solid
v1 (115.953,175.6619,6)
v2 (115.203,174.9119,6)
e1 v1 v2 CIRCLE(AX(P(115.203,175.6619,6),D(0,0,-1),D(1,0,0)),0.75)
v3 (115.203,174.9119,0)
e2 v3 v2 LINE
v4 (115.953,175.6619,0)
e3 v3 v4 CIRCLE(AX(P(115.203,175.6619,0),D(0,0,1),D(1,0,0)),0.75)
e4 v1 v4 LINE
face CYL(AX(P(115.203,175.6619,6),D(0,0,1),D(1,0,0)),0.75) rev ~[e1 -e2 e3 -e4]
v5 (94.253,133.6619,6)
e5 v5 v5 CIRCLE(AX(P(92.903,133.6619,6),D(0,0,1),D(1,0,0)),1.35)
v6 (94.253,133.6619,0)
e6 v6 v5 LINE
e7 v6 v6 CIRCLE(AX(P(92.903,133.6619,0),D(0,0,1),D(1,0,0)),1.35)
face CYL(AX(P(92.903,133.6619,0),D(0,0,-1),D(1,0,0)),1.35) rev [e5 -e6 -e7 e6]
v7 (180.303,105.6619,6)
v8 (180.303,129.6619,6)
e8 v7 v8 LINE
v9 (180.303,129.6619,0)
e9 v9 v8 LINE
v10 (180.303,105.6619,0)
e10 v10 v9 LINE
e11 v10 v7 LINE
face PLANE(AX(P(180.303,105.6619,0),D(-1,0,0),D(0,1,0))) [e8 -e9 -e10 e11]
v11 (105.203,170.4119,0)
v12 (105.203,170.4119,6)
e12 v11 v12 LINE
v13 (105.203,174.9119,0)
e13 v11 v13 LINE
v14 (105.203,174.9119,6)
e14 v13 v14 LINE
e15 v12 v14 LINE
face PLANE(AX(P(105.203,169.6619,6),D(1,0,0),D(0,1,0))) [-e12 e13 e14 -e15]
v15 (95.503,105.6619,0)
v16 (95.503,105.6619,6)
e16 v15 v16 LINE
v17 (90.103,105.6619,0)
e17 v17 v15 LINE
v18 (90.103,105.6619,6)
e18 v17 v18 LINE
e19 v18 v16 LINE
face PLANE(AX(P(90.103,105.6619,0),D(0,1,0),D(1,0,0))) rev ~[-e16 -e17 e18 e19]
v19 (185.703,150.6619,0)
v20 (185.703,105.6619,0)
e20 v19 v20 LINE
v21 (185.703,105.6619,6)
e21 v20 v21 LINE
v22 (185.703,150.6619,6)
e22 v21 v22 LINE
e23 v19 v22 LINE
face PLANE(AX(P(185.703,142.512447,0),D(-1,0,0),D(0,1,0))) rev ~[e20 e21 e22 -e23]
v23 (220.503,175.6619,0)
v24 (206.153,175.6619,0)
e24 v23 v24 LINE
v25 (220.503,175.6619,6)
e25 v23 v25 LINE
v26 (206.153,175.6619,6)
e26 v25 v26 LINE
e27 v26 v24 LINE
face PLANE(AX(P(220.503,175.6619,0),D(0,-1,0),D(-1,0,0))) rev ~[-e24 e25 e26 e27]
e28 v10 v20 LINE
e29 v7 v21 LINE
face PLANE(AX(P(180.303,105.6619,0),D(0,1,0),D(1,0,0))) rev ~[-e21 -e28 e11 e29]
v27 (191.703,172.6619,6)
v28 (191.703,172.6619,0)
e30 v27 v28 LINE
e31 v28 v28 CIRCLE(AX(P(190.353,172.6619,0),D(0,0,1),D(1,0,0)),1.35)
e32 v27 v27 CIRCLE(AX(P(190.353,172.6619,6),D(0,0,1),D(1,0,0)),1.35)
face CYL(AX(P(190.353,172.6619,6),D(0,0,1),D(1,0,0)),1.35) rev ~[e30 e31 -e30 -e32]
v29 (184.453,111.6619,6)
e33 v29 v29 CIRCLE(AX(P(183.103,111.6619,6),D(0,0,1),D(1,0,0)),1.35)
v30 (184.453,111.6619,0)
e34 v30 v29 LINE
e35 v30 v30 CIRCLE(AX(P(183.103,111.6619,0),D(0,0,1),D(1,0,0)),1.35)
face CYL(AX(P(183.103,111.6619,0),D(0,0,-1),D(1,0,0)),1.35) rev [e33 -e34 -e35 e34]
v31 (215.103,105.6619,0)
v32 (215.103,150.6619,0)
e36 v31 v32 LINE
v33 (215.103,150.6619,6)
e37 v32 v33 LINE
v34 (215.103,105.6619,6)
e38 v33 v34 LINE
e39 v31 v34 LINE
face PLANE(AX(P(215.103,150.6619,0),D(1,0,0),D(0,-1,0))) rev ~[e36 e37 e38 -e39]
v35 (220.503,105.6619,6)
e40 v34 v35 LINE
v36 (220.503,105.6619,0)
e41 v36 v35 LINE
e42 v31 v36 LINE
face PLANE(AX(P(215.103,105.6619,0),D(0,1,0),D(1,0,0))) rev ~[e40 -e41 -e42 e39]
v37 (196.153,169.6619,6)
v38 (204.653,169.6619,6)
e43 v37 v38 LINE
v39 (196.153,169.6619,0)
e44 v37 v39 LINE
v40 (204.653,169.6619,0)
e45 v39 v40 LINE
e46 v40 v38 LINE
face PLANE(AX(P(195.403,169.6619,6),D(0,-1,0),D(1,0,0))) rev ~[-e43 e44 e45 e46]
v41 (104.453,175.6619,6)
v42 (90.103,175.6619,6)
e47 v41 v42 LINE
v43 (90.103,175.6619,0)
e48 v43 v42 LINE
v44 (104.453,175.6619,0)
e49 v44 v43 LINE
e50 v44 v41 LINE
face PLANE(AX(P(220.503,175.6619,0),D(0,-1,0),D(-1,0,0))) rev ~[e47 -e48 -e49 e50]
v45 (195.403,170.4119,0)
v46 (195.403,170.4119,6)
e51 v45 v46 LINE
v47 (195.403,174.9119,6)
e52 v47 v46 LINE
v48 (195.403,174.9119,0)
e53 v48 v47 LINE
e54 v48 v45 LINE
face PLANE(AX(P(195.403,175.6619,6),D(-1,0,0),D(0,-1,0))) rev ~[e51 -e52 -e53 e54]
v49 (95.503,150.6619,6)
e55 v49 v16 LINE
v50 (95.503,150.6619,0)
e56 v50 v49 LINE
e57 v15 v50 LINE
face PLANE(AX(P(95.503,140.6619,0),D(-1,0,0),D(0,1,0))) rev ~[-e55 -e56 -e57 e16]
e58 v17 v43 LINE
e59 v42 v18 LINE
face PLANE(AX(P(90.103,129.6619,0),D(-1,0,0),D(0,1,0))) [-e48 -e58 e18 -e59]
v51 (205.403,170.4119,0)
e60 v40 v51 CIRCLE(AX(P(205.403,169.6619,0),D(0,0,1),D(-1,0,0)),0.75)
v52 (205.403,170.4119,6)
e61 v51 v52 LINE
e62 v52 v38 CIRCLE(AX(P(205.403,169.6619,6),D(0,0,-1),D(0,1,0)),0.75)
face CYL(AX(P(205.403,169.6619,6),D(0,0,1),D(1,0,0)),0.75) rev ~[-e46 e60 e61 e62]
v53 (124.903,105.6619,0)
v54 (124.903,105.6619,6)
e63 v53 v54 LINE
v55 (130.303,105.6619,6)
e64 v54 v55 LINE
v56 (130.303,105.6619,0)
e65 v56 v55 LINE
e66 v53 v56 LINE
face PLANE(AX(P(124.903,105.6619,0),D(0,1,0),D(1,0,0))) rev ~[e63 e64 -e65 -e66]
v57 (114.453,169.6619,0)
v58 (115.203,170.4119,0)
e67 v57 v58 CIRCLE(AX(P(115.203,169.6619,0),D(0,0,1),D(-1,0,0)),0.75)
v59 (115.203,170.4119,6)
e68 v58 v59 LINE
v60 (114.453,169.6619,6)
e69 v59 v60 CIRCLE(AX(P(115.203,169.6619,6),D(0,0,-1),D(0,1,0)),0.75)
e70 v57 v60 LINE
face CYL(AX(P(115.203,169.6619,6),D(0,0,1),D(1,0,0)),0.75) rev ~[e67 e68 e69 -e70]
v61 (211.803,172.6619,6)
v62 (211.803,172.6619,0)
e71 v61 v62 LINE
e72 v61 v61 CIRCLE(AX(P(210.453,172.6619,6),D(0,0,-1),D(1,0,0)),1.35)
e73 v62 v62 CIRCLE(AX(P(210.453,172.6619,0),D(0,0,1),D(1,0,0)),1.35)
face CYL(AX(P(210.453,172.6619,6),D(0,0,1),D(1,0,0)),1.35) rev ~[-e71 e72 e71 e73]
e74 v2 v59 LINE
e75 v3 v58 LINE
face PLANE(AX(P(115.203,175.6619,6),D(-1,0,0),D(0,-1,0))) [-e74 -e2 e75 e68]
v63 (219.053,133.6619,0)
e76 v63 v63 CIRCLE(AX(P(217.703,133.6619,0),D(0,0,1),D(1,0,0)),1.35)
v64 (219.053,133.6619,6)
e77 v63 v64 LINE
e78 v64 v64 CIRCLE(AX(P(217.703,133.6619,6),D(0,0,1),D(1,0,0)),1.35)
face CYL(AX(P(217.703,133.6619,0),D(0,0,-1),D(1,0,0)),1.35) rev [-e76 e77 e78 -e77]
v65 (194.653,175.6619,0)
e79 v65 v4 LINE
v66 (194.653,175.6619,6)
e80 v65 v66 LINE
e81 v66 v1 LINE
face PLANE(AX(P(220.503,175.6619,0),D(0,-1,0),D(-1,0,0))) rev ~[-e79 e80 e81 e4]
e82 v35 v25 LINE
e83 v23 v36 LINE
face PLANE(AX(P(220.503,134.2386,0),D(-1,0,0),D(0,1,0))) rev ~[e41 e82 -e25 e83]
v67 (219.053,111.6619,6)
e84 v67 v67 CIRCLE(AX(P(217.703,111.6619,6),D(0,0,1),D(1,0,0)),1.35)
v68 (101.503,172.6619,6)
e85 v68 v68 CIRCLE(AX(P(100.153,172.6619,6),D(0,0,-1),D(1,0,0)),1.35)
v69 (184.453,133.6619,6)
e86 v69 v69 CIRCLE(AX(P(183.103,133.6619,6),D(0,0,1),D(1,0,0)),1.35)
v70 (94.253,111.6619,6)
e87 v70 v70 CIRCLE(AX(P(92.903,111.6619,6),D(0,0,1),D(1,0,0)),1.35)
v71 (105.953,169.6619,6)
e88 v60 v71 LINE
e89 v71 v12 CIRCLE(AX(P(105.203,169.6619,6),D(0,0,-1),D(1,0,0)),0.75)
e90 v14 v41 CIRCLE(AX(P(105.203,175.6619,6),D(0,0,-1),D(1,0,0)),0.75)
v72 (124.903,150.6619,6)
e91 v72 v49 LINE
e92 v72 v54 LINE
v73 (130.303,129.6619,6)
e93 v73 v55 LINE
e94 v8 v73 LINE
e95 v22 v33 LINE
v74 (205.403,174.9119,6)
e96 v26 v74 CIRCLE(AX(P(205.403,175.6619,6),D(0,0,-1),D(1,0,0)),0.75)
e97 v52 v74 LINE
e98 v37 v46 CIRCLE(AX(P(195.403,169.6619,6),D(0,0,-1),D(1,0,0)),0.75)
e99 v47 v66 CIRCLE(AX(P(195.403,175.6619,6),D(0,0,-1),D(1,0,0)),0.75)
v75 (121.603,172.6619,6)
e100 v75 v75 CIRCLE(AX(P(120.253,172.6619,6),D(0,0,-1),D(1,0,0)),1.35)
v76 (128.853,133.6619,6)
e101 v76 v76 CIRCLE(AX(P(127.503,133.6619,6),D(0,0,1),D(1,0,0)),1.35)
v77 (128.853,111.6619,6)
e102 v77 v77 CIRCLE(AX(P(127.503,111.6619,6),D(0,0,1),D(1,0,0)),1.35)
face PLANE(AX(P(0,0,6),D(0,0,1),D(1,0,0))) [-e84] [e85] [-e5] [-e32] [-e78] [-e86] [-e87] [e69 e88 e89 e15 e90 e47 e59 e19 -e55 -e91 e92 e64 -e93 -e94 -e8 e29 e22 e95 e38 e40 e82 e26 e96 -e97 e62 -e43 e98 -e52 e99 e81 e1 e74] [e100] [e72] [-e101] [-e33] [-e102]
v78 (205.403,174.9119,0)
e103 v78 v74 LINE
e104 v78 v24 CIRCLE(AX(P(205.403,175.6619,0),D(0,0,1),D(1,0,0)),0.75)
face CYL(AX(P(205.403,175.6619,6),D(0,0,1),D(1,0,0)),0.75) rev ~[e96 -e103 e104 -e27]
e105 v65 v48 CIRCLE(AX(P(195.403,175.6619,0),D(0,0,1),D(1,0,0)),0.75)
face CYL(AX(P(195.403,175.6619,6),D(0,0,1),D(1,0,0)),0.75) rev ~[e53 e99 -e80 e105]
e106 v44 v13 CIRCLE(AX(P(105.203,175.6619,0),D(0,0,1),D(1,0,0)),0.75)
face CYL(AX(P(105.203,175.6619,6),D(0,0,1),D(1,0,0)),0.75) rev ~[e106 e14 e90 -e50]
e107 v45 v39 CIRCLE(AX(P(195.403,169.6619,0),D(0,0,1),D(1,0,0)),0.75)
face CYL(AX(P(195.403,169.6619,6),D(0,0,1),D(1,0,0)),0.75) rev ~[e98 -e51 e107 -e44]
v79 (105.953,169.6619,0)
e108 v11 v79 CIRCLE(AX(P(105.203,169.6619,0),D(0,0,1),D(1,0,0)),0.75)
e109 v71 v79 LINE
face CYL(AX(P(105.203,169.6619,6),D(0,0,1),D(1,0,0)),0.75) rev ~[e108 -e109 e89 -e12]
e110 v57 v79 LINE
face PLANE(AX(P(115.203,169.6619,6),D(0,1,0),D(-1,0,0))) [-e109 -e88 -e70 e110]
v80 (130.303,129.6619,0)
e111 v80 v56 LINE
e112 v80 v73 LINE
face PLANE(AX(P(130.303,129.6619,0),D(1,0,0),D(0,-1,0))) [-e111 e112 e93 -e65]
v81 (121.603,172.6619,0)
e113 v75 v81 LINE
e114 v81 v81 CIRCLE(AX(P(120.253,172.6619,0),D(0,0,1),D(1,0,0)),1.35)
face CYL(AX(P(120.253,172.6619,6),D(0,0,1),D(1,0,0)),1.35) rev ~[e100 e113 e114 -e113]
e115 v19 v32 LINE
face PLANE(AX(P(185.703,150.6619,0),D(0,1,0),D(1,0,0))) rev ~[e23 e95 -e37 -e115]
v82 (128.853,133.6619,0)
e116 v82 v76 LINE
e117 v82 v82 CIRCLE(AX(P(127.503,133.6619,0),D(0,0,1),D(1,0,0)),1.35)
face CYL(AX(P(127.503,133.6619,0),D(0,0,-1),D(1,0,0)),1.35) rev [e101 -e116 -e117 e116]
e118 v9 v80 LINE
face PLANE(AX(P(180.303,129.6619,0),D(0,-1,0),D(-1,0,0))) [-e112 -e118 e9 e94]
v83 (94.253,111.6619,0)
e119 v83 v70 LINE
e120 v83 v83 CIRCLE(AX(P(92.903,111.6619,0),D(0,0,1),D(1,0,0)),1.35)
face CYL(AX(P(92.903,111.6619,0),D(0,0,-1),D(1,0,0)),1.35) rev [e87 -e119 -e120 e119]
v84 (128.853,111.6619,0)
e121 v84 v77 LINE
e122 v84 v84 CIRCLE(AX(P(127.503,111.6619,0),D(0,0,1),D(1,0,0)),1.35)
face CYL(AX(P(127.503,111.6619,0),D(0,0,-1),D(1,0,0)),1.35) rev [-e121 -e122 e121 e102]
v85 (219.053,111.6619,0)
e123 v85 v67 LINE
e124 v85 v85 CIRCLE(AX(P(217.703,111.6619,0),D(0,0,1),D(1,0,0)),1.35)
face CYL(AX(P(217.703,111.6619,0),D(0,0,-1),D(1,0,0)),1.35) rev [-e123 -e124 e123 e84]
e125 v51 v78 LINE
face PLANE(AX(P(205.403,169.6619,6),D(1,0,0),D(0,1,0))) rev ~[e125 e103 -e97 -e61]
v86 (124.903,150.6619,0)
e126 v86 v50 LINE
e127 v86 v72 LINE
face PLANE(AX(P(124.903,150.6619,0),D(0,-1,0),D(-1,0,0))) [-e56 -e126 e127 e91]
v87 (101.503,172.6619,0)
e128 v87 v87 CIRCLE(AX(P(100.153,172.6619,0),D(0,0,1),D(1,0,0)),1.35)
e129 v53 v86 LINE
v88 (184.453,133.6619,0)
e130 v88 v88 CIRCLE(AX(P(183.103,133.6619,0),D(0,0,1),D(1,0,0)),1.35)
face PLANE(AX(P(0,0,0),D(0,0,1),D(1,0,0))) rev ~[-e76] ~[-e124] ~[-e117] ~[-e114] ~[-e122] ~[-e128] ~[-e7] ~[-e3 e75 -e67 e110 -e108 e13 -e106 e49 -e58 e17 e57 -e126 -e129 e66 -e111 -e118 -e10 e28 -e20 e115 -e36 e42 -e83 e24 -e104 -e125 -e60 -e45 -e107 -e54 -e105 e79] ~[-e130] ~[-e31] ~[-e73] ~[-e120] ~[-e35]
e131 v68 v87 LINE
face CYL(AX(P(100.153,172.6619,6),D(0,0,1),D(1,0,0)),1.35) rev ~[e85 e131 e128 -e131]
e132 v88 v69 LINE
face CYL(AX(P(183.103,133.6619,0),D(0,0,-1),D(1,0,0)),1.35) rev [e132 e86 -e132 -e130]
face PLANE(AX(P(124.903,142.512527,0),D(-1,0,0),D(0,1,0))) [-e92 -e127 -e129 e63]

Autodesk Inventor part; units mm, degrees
ref_plane "YZ Plane" through (0, 0, 0) normal (1, 0, 0) x (0, 1, 0)
ref_plane "XZ Plane" through (0, 0, 0) normal (0, 1, 0) x (-1, 0, 0)
ref_plane "XY Plane" through (0, 0, 0) normal (0, 0, 1) x (1, 0, 0)
sketch "스케치1" plane through (0, 0, 0) normal (0, 0, 1) x (1, 0, 0)
  arc A0 (90.6223, 135.9255) -> (90.103, 134.2386) centre (93.103, 134.2386) ccw
  line L0 (90.103, 89.9853) -> (90.103, 134.2386)
  arc A1 (90.103, 89.9853) -> (90.6223, 88.2984) centre (93.103, 89.9853) ccw
  line L1 (94.3102, 82.875) -> (90.6223, 88.2984)
  arc A2 (94.3102, 82.875) -> (96.7909, 81.5619) centre (96.7909, 84.5619) ccw
  line L2 (123.6151, 81.5619) -> (96.7909, 81.5619)
  arc A3 (123.6151, 81.5619) -> (126.0959, 82.875) centre (123.6151, 84.5619) ccw
  line L3 (129.7838, 88.2984) -> (126.0959, 82.875)
  arc A4 (129.7838, 88.2984) -> (130.303, 89.9853) centre (127.303, 89.9853) ccw
  line L4 (130.303, 134.2386) -> (130.303, 89.9853)
  arc A5 (130.303, 134.2386) -> (129.7838, 135.9255) centre (127.303, 134.2386) ccw
  line L5 (125.7983, 141.7866) -> (129.7838, 135.9255)
  arc A6 (125.7983, 141.7866) -> (124.1444, 142.6619) centre (124.1444, 140.6619) ccw
  line L6 (117.853, 142.6619) -> (124.1444, 142.6619)
  arc A7 (119.353, 141.1619) -> (117.853, 142.6619) centre (117.853, 141.1619) ccw
  arc A8 (124.703, 136.3119) -> (123.703, 137.3119) centre (123.703, 136.3119) ccw
  line L7 (118.353, 87.1619) -> (102.053, 87.1619)
  line L8 (96.2616, 142.6619) -> (102.553, 142.6619)
  arc A9 (96.2616, 142.6619) -> (94.6078, 141.7866) centre (96.2616, 140.6619) ccw
  line L9 (90.6223, 135.9255) -> (94.6078, 141.7866)
  circle A10 centre (127.503, 133.6619) radius 1.35
  circle A11 centre (127.503, 111.6619) radius 1.35
  circle A12 centre (121.203, 84.3619) radius 1.35
  circle A13 centre (92.903, 133.6619) radius 1.35
  circle A14 centre (92.903, 111.6619) radius 1.35
  circle A15 centre (99.203, 84.3619) radius 1.35
  circle A16 centre (127.503, 89.6619) radius 1.35
  circle A17 centre (92.903, 89.6619) radius 1.35
  arc A18 (180.8223, 135.9255) -> (180.303, 134.2386) centre (183.303, 134.2386) ccw
  line L10 (180.303, 89.9853) -> (180.303, 134.2386)
  arc A19 (180.303, 89.9853) -> (180.8223, 88.2984) centre (183.303, 89.9853) ccw
  line L11 (184.5102, 82.875) -> (180.8223, 88.2984)
  arc A20 (184.5102, 82.875) -> (186.9909, 81.5619) centre (186.9909, 84.5619) ccw
  line L12 (213.8151, 81.5619) -> (186.9909, 81.5619)
  arc A21 (213.8151, 81.5619) -> (216.2959, 82.875) centre (213.8151, 84.5619) ccw
  line L13 (219.9838, 88.2984) -> (216.2959, 82.875)
  arc A22 (219.9838, 88.2984) -> (220.503, 89.9853) centre (217.503, 89.9853) ccw
  line L14 (220.503, 134.2386) -> (220.503, 89.9853)
  arc A23 (220.503, 134.2386) -> (219.9838, 135.9255) centre (217.503, 134.2386) ccw
  line L15 (215.9983, 141.7866) -> (219.9838, 135.9255)
  arc A24 (215.9983, 141.7866) -> (214.3444, 142.6619) centre (214.3444, 140.6619) ccw
  line L16 (208.053, 142.6619) -> (214.3444, 142.6619)
  arc A25 (209.553, 141.1619) -> (208.053, 142.6619) centre (208.053, 141.1619) ccw
  line L17 (211.903, 137.3119) -> (213.903, 137.3119)
  arc A26 (214.903, 136.3119) -> (213.903, 137.3119) centre (213.903, 136.3119) ccw
  line L18 (208.553, 87.1619) -> (192.253, 87.1619)
  arc A27 (186.903, 137.3119) -> (185.903, 136.3119) centre (186.903, 136.3119) ccw
  arc A28 (192.753, 142.6619) -> (191.253, 141.1619) centre (192.753, 141.1619) ccw
  line L19 (186.4616, 142.6619) -> (192.753, 142.6619)
  arc A29 (186.4616, 142.6619) -> (184.8078, 141.7866) centre (186.4616, 140.6619) ccw
  line L20 (180.8223, 135.9255) -> (184.8078, 141.7866)
  circle A30 centre (217.703, 133.6619) radius 1.35
  circle A31 centre (217.703, 111.6619) radius 1.35
  circle A32 centre (211.403, 84.3619) radius 1.35
  circle A33 centre (183.103, 133.6619) radius 1.35
  circle A34 centre (183.103, 111.6619) radius 1.35
  circle A35 centre (189.403, 84.3619) radius 1.35
  circle A36 centre (217.703, 89.6619) radius 1.35
  circle A37 centre (183.103, 89.6619) radius 1.35
  circle A38 centre (200.403, 129.6619) radius 4.5766
  line L21 (95.503, 93.5119) -> (95.503, 136.3119)
  line L22 (124.903, 93.5119) -> (124.903, 136.3119)
  arc A39 (124.903, 136.3119) -> (123.703, 137.5119) centre (123.703, 136.3119) ccw
  line L23 (185.703, 93.5119) -> (185.703, 136.3119)
  arc A40 (186.903, 137.5119) -> (185.703, 136.3119) centre (186.903, 136.3119) ccw
  line L24 (215.103, 93.5119) -> (215.103, 136.3119)
  arc A41 (215.103, 136.3119) -> (213.903, 137.5119) centre (213.903, 136.3119) ccw
  line L25 (213.903, 137.5119) -> (211.903, 137.5119)
  line L26 (90.103, 129.6619) -> (90.103, 105.6619)
  line L27 (90.103, 105.6619) -> (220.503, 105.6619)
  line L28 (220.503, 105.6619) -> (220.503, 129.6619)
  line L29 (220.503, 129.6619) -> (90.103, 129.6619)
  line L30 (90.103, 129.6619) -> (90.103, 105.6619)
  line L31 (90.103, 129.6619) -> (220.503, 129.6619)
  line L32 (220.503, 129.6619) -> (220.503, 175.6619)
  line L33 (220.503, 175.6619) -> (90.103, 175.6619)
  line L34 (90.103, 175.6619) -> (90.103, 129.6619)
  line L35 (95.503, 140.6619) -> (215.103, 140.6619)
  line L36 (215.103, 140.6619) -> (215.103, 129.6619)
  line L37 (185.703, 129.6619) -> (185.703, 140.6619)
  line L38 (124.903, 129.6619) -> (124.903, 140.6619)
  line L39 (95.503, 129.6619) -> (95.503, 140.6619)
  line L40 (95.503, 140.6619) -> (95.503, 150.6619)
  line L41 (124.903, 140.6619) -> (124.903, 150.6619)
  line L42 (124.903, 150.6619) -> (95.503, 150.6619)
  line L43 (185.703, 140.6619) -> (185.703, 150.6619)
  line L44 (185.703, 150.6619) -> (215.103, 150.6619)
  line L45 (215.103, 150.6619) -> (215.103, 140.6619)
  point P0 (110.203, 129.6619)
  point P1 (90.103, 134.2386)
  point P2 (95.503, 105.6619)
  point P3 (124.903, 105.6619)
  point P4 (130.303, 105.6619)
  point P5 (130.303, 129.6619)
  point P6 (180.303, 129.6619)
  point P7 (180.303, 105.6619)
  point P8 (185.703, 105.6619)
  point P9 (215.103, 129.6619)
  point P10 (215.103, 105.6619)
  dimension "d18" = 24
  dimension "d19" = 46
  dimension "d33" = 10
extrude "돌출2" add sketch "스케치1" along normal blind 6 contours L9 A9 L40 L39 L21 L29 L0 A0 | A0 L34 L33 L32 A23 L15 A24 L45 L44 L43 A29 L20 L35 L5 A6 L41 L42 L40 A9 L9 | L29 L21 L27 L0 | L29 L4 L27 L22 | L22 L38 L35 L5 A5 L4 L29 | L14 L29 L24 L36 L45 A24 L15 A23 | L41 A6 L5 L35 | L4 A5 L5 L35 L20 A18 L10 L29 | L14 L27 L24 L29 | L29 L23 L27 L10 | L10 A18 L20 L35 L37 L23 L29 | L20 A29 L43 L35
sketch "스케치2" plane through (0, 0, 6) normal (0, 0, 1) x (1, 0, 0)
  line L0 (220.503, 175.6619) -> (90.103, 175.6619) projected
  line L1 (90.103, 175.6619) -> (90.103, 105.6619) projected
  line L2 (90.103, 105.6619) -> (95.503, 105.6619) projected
  line L3 (95.503, 105.6619) -> (95.503, 150.6619) projected
  line L4 (124.903, 150.6619) -> (124.903, 105.6619) projected
  line L5 (124.903, 105.6619) -> (130.303, 105.6619) projected
  line L6 (130.303, 105.6619) -> (130.303, 129.6619) projected
  line L7 (130.303, 129.6619) -> (180.303, 129.6619) projected
  line L8 (180.303, 129.6619) -> (180.303, 105.6619) projected
  line L9 (180.303, 105.6619) -> (185.703, 105.6619) projected
  line L10 (185.703, 105.6619) -> (185.703, 150.6619) projected
  line L11 (215.103, 150.6619) -> (215.103, 105.6619) projected
  line L12 (215.103, 105.6619) -> (220.503, 105.6619) projected
  line L13 (220.503, 105.6619) -> (220.503, 175.6619) projected
  circle A0 centre (127.503, 111.6619) radius 1.35 projected
  circle A1 centre (217.703, 111.6619) radius 1.35 projected
  circle A2 centre (127.503, 133.6619) radius 1.35 projected
  circle A3 centre (183.103, 133.6619) radius 1.35 projected
  circle A4 centre (183.103, 111.6619) radius 1.35 projected
  circle A5 centre (217.703, 133.6619) radius 1.35 projected
  circle A6 centre (92.903, 133.6619) radius 1.35 projected
  circle A7 centre (92.903, 111.6619) radius 1.35 projected
  line L14 (90.103, 175.6619) -> (220.503, 175.6619)
  line L15 (220.503, 175.6619) -> (220.503, 169.6619)
  line L16 (220.503, 169.6619) -> (90.103, 169.6619)
  line L17 (90.103, 169.6619) -> (90.103, 175.6619)
  line L18 (90.103, 172.6619) -> (100.153, 172.6619)
  line L19 (100.153, 172.6619) -> (120.253, 172.6619)
  line L20 (220.503, 172.6619) -> (210.453, 172.6619)
  line L21 (210.453, 172.6619) -> (190.353, 172.6619)
  circle A8 centre (100.153, 172.6619) radius 1.35
  circle A9 centre (120.253, 172.6619) radius 1.35
  circle A10 centre (190.353, 172.6619) radius 1.35
  circle A11 centre (210.453, 172.6619) radius 1.35
  line L22 (95.503, 150.6619) -> (124.903, 150.6619) projected
  line L23 (185.703, 150.6619) -> (215.103, 150.6619) projected
  point P0 (0, 0)
  dimension "d22" = 6
  dimension "d23" = 10.05
  dimension "d24" = 20.1
  dimension "d25" = 10.05
  dimension "d26" = 20.1
  dimension "d27" = 2.7
  dimension "d28" = 2.7
  dimension "d29" = 2.7
  dimension "d30" = 2.7
extrude "돌출3" cut sketch "스케치2" against normal blind 6 contours A9 | A8 L19 L18 | L18 L19 A8 | A10 | A11 L21 L20 | L20 L21 A11
sketch "스케치3" plane through (0, 0, 6) normal (0, 0, 1) x (1, 0, 0)
  circle A0 centre (120.253, 172.6619) radius 1.35 projected
  circle A1 centre (190.353, 172.6619) radius 1.35 projected
  circle A2 centre (100.153, 172.6619) radius 1.35 projected
  circle A3 centre (210.453, 172.6619) radius 1.35 projected
  line L0 (95.503, 150.6619) -> (124.903, 150.6619) projected
  line L1 (124.903, 150.6619) -> (124.903, 105.6619) projected
  line L2 (124.903, 105.6619) -> (130.303, 105.6619) projected
  line L3 (130.303, 105.6619) -> (130.303, 129.6619) projected
  line L4 (130.303, 129.6619) -> (180.303, 129.6619) projected
  line L5 (180.303, 129.6619) -> (180.303, 105.6619) projected
  line L6 (180.303, 105.6619) -> (185.703, 105.6619) projected
  line L7 (185.703, 105.6619) -> (185.703, 150.6619) projected
  line L8 (185.703, 150.6619) -> (215.103, 150.6619) projected
  line L9 (215.103, 150.6619) -> (215.103, 105.6619) projected
  line L10 (215.103, 105.6619) -> (220.503, 105.6619) projected
  line L11 (220.503, 105.6619) -> (220.503, 175.6619) projected
  line L12 (220.503, 175.6619) -> (90.103, 175.6619) projected
  line L13 (90.103, 175.6619) -> (90.103, 105.6619) projected
  line L14 (90.103, 105.6619) -> (95.503, 105.6619) projected
  line L15 (95.503, 105.6619) -> (95.503, 150.6619) projected
  circle A4 centre (127.503, 111.6619) radius 1.35 projected
  circle A5 centre (92.903, 111.6619) radius 1.35 projected
  circle A6 centre (92.903, 133.6619) radius 1.35 projected
  circle A7 centre (217.703, 111.6619) radius 1.35 projected
  circle A8 centre (217.703, 133.6619) radius 1.35 projected
  circle A9 centre (183.103, 111.6619) radius 1.35 projected
  circle A10 centre (183.103, 133.6619) radius 1.35 projected
  circle A11 centre (127.503, 133.6619) radius 1.35 projected
  line L16 (105.203, 169.6619) -> (105.203, 175.6619)
  line L17 (105.203, 175.6619) -> (115.203, 175.6619)
  line L18 (115.203, 175.6619) -> (115.203, 169.6619)
  line L19 (115.203, 169.6619) -> (105.203, 169.6619)
  line L20 (105.203, 169.6619) -> (115.203, 175.6619) construction
  line L21 (105.203, 175.6619) -> (115.203, 169.6619) construction
  line L22 (205.403, 169.6619) -> (205.403, 175.6619)
  line L23 (205.403, 175.6619) -> (195.403, 175.6619)
  line L24 (195.403, 175.6619) -> (195.403, 169.6619)
  line L25 (195.403, 169.6619) -> (205.403, 169.6619)
  line L26 (205.403, 169.6619) -> (195.403, 175.6619) construction
  line L27 (205.403, 175.6619) -> (195.403, 169.6619) construction
  point P0 (0, 0)
  point P1 (110.203, 172.6619)
  point P2 (200.403, 172.6619)
  dimension "d34" = 10
  dimension "d35" = 10
extrude "돌출4" cut sketch "스케치3" against normal blind 6 contours L12 L18 L19 L16 | L12 L22 L25 L24
sketch "스케치4" plane through (0, 0, 6) normal (0, 0, 1) x (1, 0, 0)
  line L0 (195.403, 169.6619) -> (195.403, 175.6619) projected
  line L1 (195.403, 175.6619) -> (115.203, 175.6619) projected
  line L2 (115.203, 175.6619) -> (115.203, 169.6619) projected
  line L3 (115.203, 169.6619) -> (105.203, 169.6619) projected
  line L4 (105.203, 169.6619) -> (105.203, 175.6619) projected
  line L5 (105.203, 175.6619) -> (90.103, 175.6619) projected
  line L6 (90.103, 175.6619) -> (90.103, 105.6619) projected
  line L7 (90.103, 105.6619) -> (95.503, 105.6619) projected
  line L8 (95.503, 105.6619) -> (95.503, 150.6619) projected
  line L9 (95.503, 150.6619) -> (124.903, 150.6619) projected
  line L10 (124.903, 150.6619) -> (124.903, 105.6619) projected
  line L11 (124.903, 105.6619) -> (130.303, 105.6619) projected
  line L12 (130.303, 105.6619) -> (130.303, 129.6619) projected
  line L13 (130.303, 129.6619) -> (180.303, 129.6619) projected
  line L14 (180.303, 129.6619) -> (180.303, 105.6619) projected
  line L15 (180.303, 105.6619) -> (185.703, 105.6619) projected
  line L16 (185.703, 105.6619) -> (185.703, 150.6619) projected
  line L17 (185.703, 150.6619) -> (215.103, 150.6619) projected
  line L18 (215.103, 150.6619) -> (215.103, 105.6619) projected
  line L19 (215.103, 105.6619) -> (220.503, 105.6619) projected
  line L20 (220.503, 105.6619) -> (220.503, 175.6619) projected
  line L21 (220.503, 175.6619) -> (205.403, 175.6619) projected
  line L22 (205.403, 175.6619) -> (205.403, 169.6619) projected
  line L23 (205.403, 169.6619) -> (195.403, 169.6619) projected
  circle A0 centre (120.253, 172.6619) radius 1.35 projected
  circle A1 centre (190.353, 172.6619) radius 1.35 projected
  circle A2 centre (100.153, 172.6619) radius 1.35 projected
  circle A3 centre (210.453, 172.6619) radius 1.35 projected
  circle A4 centre (127.503, 111.6619) radius 1.35 projected
  circle A5 centre (92.903, 111.6619) radius 1.35 projected
  circle A6 centre (92.903, 133.6619) radius 1.35 projected
  circle A7 centre (217.703, 111.6619) radius 1.35 projected
  circle A8 centre (217.703, 133.6619) radius 1.35 projected
  circle A9 centre (183.103, 111.6619) radius 1.35 projected
  circle A10 centre (183.103, 133.6619) radius 1.35 projected
  circle A11 centre (127.503, 133.6619) radius 1.35 projected
  circle A12 centre (105.203, 175.6619) radius 0.75
  circle A13 centre (105.203, 169.6619) radius 0.75
  circle A14 centre (115.203, 169.6619) radius 0.75
  circle A15 centre (115.203, 175.6619) radius 0.75
  line L24 (195.403, 175.6619) -> (115.203, 175.6619) projected
  circle A16 centre (195.403, 175.6619) radius 0.75
  circle A17 centre (205.403, 175.6619) radius 0.75
  line L25 (205.403, 175.6619) -> (205.403, 169.6619) projected
  circle A18 centre (205.403, 169.6619) radius 0.75
  circle A19 centre (195.403, 169.6619) radius 0.75
  point P0 (0, 0)
  dimension "d38" = 1.5
  dimension "d39" = 1.5
  dimension "d40" = 1.5
  dimension "d41" = 1.5
  dimension "d42" = 1.5
  dimension "d43" = 1.5
  dimension "d44" = 1.5
  dimension "d45" = 1.5
extrude "돌출5" cut sketch "스케치4" against normal blind 6 contours L23 A19 L0 | L0 A19 L23 | A16 L1 L0 | L0 L1 A16 | A18 L22 L23 | L23 L22 A18 | A15 L2 L1 | L1 L2 A15 | A17 L21 L22 | L22 L21 A17 | A14 L3 L2 | L2 L3 A14 | A13 L4 L3 | L3 L4 A13 | A12 L5 L4 | L4 L5 A12
properties part number "frame_pelvis_to_waist2" material "PMMA 플라스틱"
